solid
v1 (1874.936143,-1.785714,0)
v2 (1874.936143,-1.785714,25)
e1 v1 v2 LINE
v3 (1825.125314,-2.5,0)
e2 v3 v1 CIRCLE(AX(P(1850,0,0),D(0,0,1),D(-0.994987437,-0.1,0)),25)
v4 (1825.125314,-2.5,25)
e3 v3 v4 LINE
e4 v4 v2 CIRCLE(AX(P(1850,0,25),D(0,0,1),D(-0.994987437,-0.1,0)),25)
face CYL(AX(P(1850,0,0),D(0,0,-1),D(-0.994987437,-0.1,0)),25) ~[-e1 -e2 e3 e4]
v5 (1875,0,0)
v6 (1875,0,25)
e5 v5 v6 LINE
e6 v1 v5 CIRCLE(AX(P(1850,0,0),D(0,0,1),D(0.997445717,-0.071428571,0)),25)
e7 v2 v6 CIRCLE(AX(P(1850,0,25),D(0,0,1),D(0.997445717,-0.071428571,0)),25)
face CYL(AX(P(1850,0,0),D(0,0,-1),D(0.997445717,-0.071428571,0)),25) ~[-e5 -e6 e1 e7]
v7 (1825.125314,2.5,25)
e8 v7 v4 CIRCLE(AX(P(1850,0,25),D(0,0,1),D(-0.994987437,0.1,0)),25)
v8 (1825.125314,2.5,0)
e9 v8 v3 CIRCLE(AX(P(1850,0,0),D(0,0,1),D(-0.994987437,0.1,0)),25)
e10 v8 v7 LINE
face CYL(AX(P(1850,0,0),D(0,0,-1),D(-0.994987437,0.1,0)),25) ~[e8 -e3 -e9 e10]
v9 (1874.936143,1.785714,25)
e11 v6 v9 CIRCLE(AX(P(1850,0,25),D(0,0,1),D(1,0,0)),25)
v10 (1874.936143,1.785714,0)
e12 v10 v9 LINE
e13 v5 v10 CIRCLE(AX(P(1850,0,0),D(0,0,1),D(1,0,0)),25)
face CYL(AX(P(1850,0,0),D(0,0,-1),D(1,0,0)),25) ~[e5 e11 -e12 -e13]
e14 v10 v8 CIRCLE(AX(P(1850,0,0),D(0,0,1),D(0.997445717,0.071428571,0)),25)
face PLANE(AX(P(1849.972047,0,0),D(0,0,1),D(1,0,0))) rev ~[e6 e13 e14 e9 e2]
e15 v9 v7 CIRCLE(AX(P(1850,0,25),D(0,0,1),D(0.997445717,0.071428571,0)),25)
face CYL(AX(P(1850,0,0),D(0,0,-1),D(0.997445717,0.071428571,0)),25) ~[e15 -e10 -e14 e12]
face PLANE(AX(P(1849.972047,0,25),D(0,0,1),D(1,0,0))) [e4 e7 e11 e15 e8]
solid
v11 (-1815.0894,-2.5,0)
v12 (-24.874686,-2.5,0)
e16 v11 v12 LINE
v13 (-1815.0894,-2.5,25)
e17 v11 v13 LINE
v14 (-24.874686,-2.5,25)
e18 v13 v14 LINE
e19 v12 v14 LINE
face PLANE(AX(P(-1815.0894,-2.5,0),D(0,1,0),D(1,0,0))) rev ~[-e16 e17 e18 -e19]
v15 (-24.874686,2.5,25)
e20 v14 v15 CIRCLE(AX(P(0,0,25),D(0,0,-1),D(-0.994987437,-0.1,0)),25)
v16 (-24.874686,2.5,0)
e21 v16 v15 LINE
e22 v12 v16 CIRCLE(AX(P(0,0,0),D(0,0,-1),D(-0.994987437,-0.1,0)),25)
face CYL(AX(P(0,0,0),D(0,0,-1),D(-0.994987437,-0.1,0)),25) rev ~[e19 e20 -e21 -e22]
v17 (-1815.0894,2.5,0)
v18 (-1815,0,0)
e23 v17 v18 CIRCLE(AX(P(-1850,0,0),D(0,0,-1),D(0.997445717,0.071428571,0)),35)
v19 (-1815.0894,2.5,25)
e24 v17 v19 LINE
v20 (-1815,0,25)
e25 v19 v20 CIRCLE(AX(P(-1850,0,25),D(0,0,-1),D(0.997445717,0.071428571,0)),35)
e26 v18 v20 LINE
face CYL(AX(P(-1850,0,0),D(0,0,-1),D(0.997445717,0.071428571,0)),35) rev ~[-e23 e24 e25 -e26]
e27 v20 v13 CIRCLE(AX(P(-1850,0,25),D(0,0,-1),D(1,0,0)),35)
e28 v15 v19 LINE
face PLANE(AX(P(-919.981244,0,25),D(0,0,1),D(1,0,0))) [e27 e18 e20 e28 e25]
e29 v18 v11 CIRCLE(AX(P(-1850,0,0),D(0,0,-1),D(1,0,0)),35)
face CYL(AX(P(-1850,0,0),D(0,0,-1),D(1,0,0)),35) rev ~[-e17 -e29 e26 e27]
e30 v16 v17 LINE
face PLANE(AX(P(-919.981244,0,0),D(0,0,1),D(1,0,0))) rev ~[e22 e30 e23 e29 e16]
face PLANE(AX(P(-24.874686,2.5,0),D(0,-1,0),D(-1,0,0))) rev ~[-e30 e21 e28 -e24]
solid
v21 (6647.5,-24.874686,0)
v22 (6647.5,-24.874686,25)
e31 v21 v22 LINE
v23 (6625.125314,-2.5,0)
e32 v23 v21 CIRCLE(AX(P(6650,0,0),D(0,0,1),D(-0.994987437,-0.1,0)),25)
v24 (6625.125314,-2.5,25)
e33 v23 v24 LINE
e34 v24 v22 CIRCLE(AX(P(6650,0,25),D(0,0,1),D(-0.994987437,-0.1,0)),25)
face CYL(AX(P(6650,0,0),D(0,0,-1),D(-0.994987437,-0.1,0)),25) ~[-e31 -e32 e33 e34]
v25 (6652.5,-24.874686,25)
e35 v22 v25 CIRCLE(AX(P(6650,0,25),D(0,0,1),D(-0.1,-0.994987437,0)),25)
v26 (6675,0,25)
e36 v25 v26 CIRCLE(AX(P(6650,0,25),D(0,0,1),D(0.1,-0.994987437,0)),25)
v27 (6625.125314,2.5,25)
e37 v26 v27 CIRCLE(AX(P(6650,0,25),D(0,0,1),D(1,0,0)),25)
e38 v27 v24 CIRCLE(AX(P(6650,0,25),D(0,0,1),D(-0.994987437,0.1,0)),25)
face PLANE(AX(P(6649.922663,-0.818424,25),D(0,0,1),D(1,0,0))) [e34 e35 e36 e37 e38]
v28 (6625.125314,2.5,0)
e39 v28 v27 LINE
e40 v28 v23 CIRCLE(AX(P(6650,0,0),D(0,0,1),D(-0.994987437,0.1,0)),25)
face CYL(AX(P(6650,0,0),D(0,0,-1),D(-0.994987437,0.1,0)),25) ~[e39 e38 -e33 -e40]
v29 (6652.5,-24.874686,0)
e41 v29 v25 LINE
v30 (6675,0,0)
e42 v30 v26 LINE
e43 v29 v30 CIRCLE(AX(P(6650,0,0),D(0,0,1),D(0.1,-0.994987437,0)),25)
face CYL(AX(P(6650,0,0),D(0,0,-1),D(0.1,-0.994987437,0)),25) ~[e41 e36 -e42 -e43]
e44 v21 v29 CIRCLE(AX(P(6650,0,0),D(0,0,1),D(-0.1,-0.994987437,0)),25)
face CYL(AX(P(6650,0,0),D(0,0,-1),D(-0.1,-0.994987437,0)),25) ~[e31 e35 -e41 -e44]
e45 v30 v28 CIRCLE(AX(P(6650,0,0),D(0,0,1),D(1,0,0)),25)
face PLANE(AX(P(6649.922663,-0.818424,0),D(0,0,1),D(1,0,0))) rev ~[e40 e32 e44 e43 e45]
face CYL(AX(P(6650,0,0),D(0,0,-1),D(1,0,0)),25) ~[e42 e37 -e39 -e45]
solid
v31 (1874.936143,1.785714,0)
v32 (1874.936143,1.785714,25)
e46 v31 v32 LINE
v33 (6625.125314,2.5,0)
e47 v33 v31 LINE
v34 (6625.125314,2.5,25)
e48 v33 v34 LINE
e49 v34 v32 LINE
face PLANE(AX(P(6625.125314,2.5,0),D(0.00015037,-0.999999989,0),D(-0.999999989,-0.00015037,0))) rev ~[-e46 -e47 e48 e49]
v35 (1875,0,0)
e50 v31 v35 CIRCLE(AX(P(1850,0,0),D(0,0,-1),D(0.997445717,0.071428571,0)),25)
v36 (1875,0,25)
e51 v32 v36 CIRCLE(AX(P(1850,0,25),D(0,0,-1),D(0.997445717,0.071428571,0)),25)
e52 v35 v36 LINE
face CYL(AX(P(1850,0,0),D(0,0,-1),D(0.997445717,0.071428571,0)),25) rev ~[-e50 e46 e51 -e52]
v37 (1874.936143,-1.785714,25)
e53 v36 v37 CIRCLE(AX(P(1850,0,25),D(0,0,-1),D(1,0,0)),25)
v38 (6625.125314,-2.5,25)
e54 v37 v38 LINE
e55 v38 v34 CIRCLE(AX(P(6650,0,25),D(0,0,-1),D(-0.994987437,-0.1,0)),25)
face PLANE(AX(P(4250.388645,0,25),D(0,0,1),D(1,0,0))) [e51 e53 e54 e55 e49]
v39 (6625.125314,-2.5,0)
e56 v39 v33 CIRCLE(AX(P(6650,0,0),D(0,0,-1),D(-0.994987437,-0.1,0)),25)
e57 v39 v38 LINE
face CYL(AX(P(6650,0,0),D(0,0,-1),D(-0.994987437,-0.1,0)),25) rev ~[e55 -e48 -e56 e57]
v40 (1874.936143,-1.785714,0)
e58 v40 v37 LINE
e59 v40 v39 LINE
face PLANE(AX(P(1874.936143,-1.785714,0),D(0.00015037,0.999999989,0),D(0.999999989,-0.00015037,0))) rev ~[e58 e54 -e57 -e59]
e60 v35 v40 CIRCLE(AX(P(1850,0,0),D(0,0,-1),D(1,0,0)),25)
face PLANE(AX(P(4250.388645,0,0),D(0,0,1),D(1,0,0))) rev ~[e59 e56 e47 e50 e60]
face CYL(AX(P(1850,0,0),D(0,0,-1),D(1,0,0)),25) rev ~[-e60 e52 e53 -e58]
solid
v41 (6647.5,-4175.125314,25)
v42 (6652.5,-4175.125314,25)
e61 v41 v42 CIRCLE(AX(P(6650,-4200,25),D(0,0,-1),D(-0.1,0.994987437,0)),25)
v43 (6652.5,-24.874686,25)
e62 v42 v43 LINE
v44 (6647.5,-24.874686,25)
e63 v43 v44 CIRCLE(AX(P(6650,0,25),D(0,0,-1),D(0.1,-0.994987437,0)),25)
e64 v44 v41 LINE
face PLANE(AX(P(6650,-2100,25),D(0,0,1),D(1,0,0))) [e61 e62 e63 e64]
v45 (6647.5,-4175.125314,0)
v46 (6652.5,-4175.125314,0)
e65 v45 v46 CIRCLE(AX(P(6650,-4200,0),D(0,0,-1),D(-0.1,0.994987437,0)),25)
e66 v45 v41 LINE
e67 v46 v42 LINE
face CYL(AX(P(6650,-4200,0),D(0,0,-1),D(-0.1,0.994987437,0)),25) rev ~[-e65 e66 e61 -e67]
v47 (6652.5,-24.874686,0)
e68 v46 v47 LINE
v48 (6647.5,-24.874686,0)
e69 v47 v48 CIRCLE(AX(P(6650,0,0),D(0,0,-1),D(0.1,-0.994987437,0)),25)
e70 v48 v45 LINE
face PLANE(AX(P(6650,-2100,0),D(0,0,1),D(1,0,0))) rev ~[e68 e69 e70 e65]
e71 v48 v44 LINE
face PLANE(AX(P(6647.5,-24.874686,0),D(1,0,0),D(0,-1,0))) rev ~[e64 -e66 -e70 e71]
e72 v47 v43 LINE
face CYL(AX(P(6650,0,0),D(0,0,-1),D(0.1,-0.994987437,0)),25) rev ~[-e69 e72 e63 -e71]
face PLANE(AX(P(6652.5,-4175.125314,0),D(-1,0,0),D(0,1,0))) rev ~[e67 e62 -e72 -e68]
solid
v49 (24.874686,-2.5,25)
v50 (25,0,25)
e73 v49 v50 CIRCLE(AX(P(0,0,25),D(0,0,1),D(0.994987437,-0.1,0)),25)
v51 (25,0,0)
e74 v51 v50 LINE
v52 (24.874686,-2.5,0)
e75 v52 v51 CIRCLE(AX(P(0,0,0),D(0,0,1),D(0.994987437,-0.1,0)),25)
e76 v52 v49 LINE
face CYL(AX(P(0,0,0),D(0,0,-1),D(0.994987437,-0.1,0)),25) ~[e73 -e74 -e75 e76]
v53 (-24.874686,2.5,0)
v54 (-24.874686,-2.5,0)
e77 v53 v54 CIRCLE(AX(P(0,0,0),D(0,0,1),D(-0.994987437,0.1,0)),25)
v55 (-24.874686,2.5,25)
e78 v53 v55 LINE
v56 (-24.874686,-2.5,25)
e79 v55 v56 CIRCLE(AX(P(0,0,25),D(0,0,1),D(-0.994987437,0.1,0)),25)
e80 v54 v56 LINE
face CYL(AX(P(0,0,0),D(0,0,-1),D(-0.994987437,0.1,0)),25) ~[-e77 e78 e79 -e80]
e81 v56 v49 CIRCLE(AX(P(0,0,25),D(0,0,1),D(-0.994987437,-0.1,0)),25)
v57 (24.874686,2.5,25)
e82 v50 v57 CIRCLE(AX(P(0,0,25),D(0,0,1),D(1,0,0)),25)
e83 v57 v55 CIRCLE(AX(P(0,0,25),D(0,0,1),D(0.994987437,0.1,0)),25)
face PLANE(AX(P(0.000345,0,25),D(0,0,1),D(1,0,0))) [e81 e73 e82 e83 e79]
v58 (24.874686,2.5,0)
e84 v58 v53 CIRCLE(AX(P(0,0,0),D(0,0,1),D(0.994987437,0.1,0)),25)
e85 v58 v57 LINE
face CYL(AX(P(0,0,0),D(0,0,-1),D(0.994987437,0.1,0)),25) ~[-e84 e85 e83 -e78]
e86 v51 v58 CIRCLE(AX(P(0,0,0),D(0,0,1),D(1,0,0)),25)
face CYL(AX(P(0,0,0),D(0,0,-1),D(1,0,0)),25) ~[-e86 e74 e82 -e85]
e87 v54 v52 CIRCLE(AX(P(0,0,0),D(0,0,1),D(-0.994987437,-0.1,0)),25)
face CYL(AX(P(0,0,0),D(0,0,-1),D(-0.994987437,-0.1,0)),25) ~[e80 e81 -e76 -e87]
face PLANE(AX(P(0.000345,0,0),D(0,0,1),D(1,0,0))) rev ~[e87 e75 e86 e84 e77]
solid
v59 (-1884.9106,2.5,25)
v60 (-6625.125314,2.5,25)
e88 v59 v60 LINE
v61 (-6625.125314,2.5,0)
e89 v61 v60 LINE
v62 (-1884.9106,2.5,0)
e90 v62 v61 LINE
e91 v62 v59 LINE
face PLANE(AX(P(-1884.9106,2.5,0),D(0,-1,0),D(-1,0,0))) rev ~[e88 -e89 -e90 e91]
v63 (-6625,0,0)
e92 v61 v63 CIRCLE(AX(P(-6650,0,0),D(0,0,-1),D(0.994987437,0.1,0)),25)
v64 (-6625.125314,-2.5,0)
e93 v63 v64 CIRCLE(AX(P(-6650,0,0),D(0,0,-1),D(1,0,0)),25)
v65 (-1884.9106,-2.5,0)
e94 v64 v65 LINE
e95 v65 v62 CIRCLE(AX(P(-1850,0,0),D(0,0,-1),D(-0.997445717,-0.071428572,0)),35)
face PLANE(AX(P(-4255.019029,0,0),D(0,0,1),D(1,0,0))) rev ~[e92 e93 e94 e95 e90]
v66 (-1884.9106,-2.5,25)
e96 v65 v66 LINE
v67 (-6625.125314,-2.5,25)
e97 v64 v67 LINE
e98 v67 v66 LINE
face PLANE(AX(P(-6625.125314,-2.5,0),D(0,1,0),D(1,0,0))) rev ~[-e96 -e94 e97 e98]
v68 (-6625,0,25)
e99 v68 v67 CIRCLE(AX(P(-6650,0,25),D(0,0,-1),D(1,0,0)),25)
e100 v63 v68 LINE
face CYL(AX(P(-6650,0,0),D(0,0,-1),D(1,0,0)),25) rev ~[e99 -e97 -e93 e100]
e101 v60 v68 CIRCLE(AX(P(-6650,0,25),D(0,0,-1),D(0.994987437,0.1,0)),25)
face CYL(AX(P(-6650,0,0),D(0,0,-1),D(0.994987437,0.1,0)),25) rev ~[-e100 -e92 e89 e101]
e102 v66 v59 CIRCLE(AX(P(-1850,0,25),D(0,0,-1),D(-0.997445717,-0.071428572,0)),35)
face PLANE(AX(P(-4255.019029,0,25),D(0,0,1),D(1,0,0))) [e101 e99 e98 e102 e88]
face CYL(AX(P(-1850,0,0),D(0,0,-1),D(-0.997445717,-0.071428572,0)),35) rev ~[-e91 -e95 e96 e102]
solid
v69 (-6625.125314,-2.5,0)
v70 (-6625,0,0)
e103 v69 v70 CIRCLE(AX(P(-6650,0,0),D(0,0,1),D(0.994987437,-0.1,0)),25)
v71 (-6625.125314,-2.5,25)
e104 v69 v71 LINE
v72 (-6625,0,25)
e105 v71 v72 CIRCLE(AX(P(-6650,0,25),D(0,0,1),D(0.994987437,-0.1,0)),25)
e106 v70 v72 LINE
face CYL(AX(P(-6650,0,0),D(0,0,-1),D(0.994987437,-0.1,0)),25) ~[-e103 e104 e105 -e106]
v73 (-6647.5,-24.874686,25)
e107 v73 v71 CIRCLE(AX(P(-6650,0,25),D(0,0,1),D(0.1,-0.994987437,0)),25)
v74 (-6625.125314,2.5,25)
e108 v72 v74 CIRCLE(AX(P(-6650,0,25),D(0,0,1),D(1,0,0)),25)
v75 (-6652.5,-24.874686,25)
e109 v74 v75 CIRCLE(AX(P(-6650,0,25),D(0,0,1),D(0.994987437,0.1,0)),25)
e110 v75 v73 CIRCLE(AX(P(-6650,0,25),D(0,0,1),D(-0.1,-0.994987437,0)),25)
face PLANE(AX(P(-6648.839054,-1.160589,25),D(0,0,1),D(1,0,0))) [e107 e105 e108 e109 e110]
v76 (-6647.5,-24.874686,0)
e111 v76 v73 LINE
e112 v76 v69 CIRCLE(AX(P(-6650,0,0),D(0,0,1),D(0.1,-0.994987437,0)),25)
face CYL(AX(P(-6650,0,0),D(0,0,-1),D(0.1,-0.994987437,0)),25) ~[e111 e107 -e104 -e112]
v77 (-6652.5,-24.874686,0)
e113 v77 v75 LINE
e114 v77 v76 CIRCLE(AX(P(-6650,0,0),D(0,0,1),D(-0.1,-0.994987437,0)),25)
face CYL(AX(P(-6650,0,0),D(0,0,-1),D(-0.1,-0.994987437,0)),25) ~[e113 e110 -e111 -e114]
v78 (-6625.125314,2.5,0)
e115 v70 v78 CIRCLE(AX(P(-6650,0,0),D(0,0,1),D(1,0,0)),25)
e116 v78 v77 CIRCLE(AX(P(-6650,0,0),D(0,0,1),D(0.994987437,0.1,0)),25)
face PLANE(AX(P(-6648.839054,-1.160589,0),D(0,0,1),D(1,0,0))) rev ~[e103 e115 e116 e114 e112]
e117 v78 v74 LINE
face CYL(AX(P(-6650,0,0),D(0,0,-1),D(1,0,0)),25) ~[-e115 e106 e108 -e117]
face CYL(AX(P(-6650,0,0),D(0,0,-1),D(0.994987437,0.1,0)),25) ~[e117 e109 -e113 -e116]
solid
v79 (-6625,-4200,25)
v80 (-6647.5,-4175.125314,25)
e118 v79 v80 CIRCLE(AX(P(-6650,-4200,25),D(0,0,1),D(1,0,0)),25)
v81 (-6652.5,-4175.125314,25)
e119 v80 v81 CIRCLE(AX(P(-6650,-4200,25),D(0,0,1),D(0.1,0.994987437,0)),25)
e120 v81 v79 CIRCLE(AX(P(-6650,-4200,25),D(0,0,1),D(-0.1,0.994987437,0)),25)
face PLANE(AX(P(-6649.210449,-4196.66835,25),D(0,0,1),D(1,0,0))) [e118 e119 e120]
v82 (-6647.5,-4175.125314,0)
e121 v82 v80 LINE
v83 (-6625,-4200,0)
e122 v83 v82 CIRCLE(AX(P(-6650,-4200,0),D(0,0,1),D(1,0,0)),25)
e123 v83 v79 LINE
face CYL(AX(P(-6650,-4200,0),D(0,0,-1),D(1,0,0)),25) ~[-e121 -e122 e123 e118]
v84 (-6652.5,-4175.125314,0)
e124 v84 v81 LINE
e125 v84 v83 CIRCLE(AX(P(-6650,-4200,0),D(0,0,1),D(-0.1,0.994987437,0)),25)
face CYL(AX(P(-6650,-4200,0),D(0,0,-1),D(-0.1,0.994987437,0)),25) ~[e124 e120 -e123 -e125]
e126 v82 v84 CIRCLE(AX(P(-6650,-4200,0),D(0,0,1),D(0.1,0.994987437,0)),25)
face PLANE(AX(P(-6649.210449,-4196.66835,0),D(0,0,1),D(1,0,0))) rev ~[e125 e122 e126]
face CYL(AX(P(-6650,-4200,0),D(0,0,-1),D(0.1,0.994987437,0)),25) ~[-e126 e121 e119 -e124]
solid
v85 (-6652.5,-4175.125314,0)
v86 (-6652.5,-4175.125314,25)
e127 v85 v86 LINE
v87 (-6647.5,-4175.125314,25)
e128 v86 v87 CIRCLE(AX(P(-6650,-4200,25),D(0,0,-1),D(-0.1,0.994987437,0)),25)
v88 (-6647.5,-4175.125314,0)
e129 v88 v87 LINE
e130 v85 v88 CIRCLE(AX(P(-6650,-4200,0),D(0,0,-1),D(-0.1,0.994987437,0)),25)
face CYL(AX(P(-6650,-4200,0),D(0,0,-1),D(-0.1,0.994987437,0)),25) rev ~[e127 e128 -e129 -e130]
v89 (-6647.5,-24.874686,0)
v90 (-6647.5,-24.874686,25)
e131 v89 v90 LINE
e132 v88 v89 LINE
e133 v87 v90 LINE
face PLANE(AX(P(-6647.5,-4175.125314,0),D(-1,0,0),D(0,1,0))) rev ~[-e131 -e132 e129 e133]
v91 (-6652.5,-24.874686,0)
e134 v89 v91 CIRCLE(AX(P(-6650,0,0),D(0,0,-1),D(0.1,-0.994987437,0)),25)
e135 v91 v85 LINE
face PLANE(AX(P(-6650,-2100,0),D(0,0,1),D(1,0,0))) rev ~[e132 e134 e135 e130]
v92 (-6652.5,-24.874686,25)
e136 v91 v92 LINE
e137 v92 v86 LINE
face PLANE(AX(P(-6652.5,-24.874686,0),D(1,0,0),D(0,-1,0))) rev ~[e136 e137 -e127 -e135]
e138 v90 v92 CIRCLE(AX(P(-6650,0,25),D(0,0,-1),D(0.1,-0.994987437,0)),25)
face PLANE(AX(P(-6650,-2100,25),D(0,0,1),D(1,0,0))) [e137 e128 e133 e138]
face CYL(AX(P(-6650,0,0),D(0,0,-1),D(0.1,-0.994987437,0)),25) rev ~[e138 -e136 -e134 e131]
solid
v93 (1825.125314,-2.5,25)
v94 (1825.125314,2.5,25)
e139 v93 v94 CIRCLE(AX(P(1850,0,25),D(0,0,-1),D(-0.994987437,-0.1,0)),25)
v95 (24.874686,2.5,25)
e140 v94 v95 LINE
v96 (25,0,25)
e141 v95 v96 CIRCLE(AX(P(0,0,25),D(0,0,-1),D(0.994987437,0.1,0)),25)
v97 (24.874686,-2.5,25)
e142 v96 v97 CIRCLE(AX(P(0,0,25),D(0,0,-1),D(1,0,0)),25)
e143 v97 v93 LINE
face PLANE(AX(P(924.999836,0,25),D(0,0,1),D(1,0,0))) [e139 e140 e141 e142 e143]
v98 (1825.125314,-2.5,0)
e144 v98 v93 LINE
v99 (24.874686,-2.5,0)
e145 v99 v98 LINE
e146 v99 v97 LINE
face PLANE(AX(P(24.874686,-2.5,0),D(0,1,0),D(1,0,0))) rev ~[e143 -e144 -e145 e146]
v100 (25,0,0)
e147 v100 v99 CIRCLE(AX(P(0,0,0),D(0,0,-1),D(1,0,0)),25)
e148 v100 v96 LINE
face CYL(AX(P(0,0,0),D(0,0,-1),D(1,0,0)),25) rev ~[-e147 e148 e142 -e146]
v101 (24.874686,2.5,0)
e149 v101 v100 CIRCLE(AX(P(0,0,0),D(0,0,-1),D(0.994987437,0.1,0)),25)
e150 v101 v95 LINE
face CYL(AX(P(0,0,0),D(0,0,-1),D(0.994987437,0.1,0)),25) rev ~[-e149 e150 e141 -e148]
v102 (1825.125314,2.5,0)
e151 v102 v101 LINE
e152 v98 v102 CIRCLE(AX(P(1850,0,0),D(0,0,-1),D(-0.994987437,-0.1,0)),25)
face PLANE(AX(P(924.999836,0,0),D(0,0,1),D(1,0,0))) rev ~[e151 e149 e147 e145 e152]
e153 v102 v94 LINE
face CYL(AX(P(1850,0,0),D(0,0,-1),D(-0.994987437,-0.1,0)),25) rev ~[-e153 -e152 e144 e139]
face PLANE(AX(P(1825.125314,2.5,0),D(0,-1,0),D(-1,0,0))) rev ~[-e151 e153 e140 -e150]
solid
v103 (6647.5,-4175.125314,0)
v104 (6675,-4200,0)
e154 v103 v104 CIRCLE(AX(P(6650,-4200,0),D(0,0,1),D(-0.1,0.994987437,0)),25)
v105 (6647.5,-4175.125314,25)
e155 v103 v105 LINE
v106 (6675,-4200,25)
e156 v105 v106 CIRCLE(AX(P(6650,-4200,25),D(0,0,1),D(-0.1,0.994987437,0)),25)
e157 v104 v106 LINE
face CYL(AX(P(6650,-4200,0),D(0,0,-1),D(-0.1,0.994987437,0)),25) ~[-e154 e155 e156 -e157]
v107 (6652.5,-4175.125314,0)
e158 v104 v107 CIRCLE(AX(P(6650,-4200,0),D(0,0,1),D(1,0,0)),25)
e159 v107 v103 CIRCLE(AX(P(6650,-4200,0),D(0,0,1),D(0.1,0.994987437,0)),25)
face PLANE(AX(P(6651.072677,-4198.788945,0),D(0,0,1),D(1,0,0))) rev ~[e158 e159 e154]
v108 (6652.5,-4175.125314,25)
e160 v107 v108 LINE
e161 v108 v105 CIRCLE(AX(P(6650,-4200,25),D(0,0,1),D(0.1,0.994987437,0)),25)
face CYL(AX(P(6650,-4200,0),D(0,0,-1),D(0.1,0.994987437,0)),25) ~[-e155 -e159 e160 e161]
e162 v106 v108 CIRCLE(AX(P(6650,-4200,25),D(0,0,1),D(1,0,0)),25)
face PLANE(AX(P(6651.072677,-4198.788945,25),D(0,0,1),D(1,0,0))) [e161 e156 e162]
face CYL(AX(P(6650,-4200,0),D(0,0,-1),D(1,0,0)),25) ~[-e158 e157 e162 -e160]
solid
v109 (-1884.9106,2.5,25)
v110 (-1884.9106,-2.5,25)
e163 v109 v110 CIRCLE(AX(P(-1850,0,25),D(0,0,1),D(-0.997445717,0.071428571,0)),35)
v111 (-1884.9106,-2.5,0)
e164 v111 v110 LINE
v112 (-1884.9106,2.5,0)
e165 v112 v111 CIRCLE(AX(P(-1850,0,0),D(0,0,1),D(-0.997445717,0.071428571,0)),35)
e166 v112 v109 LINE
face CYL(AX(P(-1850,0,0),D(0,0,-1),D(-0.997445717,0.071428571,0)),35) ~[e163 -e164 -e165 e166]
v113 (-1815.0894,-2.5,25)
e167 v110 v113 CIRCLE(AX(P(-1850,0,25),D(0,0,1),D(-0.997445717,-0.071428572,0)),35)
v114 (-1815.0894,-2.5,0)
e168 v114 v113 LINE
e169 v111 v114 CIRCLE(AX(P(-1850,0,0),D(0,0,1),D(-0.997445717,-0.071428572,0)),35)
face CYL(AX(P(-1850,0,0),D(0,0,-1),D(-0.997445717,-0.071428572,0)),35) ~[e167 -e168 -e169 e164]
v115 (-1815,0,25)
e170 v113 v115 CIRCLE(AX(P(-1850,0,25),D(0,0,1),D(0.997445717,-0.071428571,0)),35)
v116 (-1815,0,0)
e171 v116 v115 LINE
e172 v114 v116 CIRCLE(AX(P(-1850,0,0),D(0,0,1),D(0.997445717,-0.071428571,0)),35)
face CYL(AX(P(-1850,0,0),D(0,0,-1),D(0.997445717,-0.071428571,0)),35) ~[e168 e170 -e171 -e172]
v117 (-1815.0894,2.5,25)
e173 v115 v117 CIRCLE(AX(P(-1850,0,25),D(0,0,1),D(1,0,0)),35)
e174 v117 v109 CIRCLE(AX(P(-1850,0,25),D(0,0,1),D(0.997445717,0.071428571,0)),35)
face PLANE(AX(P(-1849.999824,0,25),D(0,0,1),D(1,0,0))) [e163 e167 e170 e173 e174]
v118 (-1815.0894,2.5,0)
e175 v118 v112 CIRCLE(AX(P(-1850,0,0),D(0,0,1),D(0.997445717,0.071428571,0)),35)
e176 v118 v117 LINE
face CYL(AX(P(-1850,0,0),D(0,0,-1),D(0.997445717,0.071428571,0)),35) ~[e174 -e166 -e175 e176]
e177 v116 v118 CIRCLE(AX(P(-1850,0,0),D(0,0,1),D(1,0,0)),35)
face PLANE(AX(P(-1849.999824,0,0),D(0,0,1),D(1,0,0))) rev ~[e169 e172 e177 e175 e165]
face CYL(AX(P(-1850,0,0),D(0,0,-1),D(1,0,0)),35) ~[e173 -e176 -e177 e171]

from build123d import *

# Parameters (mm, degrees)
F1_DEPTH = 25
F2_DEPTH = 25


with BuildPart() as f1:
    # F0 (on Top) → F1 (new body)
    with BuildSketch(Plane.XY):
        with BuildLine():
            ThreePointArc((-1815.0893998906, 2.5), (-1815.0223571132, 1.2507989787), (-1815, 0))
            ThreePointArc((-1815, 0), (-1815.0223571132, -1.2507989787), (-1815.0893998906, -2.5))
            Line((-1815.0893998906, -2.5), (-24.8746859277, -2.5))
            ThreePointArc((-24.8746859277, -2.5), (-25, 0), (-24.8746859277, 2.5))
            Line((-24.8746859277, 2.5), (-1815.0893998906, 2.5))
        make_face()
    extrude(amount=F1_DEPTH)


with BuildPart() as f1b:
    # F0 (on Top) → F1, piece 2 (new body)
    with BuildSketch(Plane.XY):
        with BuildLine():
            ThreePointArc((-1884.9106001091, -2.5000000044), (-1885, -3e-09), (-1884.9106001095, 2.4999999984))
            Line((-1884.9106001095, 2.4999999984), (-6625.1253140726, 2.5000000028))
            ThreePointArc((-6625.1253140726, 2.5000000028), (-6625.0313481723, 1.2515693779), (-6625, 0))
            ThreePointArc((-6625, 0), (-6625.0313481722, -1.2515693765), (-6625.1253140723, -2.5))
            Line((-6625.1253140723, -2.5), (-1884.9106001091, -2.5000000044))
        make_face()
    extrude(amount=F1_DEPTH)


with BuildPart() as f1c:
    # F0 (on Top) → F1, piece 3 (new body)
    with BuildSketch(Plane.XY):
        with BuildLine():
            ThreePointArc((-6647.5, -24.8746859277), (-6650, -25), (-6652.5, -24.8746859277))
            Line((-6652.5, -24.8746859277), (-6652.5, -4175.1253140723))
            ThreePointArc((-6652.5, -4175.1253140723), (-6650, -4175), (-6647.5, -4175.1253140723))
            Line((-6647.5, -4175.1253140723), (-6647.5, -24.8746859277))
        make_face()
    extrude(amount=F1_DEPTH)


with BuildPart() as f1d:
    # F0 (on Top) → F1, piece 4 (new body)
    with BuildSketch(Plane.XY):
        with BuildLine():
            Line((1825.1253140723, 2.5), (24.8746859277, 2.5))
            ThreePointArc((24.8746859277, 2.5), (24.9686518278, 1.2515693765), (25, 0))
            ThreePointArc((25, 0), (24.9686518278, -1.2515693765), (24.8746859277, -2.5))
            Line((24.8746859277, -2.5), (1825.1253140723, -2.5))
            ThreePointArc((1825.1253140723, -2.5), (1825, 0), (1825.1253140723, 2.5))
        make_face()
    extrude(amount=F1_DEPTH)


with BuildPart() as f1e:
    # F0 (on Top) → F1, piece 5 (new body)
    with BuildSketch(Plane.XY):
        with BuildLine():
            Line((6625.1253140723, 2.5), (1874.9361429353, 1.7857142857))
            ThreePointArc((1874.9361429353, 1.7857142857), (1874.9840306334, 0.8934278419), (1875, 0))
            ThreePointArc((1875, 0), (1874.9840306334, -0.8934278419), (1874.9361429353, -1.7857142857))
            Line((1874.9361429353, -1.7857142857), (6625.1253140723, -2.5))
            ThreePointArc((6625.1253140723, -2.5), (6625, 0), (6625.1253140723, 2.5))
        make_face()
    extrude(amount=F1_DEPTH)


with BuildPart() as f1f:
    # F0 (on Top) → F1, piece 6 (new body)
    with BuildSketch(Plane.XY):
        with BuildLine():
            ThreePointArc((6652.5, -24.8746859277), (6650, -25), (6647.5, -24.8746859277))
            Line((6647.5, -24.8746859277), (6647.5, -4175.1253140723))
            ThreePointArc((6647.5, -4175.1253140723), (6650, -4175), (6652.5, -4175.1253140723))
            Line((6652.5, -4175.1253140723), (6652.5, -24.8746859277))
        make_face()
    extrude(amount=F1_DEPTH)


with BuildPart() as f2:
    # F0 (on Top) → F2 (new body)
    with BuildSketch(Plane.XY):
        with BuildLine():
            Line((-6652.5, -4200), (-6652.5, -4175.1253140723))
            ThreePointArc((-6652.5, -4175.1253140723), (-6666.7705098312, -4218.5404962177), (-6625, -4200))
            ThreePointArc((-6625, -4200), (-6631.4595037823, -4183.2294901688), (-6647.5, -4175.1253140723))
            Line((-6647.5, -4175.1253140723), (-6647.5, -4200))
            ThreePointArc((-6647.5, -4200), (-6650, -4202.5), (-6652.5, -4200))
        make_face()
        with BuildLine():
            ThreePointArc((-6647.5, -4175.1253140723), (-6650, -4175), (-6652.5, -4175.1253140723))
            Line((-6652.5, -4175.1253140723), (-6652.5, -4200))
            ThreePointArc((-6652.5, -4200), (-6650, -4202.5), (-6647.5, -4200))
            Line((-6647.5, -4200), (-6647.5, -4175.1253140723))
        make_face()
    extrude(amount=F2_DEPTH)


with BuildPart() as f2b:
    # F0 (on Top) → F2, piece 2 (new body)
    with BuildSketch(Plane.XY):
        with BuildLine():
            ThreePointArc((-6625, 0), (-6625.0313481723, 1.2515693779), (-6625.1253140726, 2.5000000028))
            ThreePointArc((-6625.1253140726, 2.5000000028), (-6667.6776695307, 17.6776695287), (-6652.5, -24.8746859277))
            ThreePointArc((-6652.5, -24.8746859277), (-6650, -25), (-6647.5, -24.8746859277))
            ThreePointArc((-6647.5, -24.8746859277), (-6632.3223304703, -17.6776695297), (-6625.1253140723, -2.5))
            ThreePointArc((-6625.1253140723, -2.5), (-6625.0313481722, -1.2515693765), (-6625, 0))
        make_face()
    extrude(amount=F2_DEPTH)


with BuildPart() as f2c:
    # F0 (on Top) → F2, piece 3 (new body)
    with BuildSketch(Plane.XY):
        with BuildLine():
            ThreePointArc((-1815.0893998906, -2.5), (-1815.0223571132, -1.2507989787), (-1815, 0))
            ThreePointArc((-1815, 0), (-1815.0223571132, 1.2507989787), (-1815.0893998906, 2.5))
            ThreePointArc((-1815.0893998906, 2.5), (-1850.0000000008, 35), (-1884.9106001095, 2.4999999984))
            ThreePointArc((-1884.9106001095, 2.4999999984), (-1885, -3e-09), (-1884.9106001091, -2.5000000044))
            ThreePointArc((-1884.9106001091, -2.5000000044), (-1849.9999999978, -35), (-1815.0893998906, -2.5))
        make_face()
    extrude(amount=F2_DEPTH)


with BuildPart() as f2d:
    # F0 (on Top) → F2, piece 4 (new body)
    with BuildSketch(Plane.XY):
        with BuildLine():
            ThreePointArc((24.8746859277, 2.5), (0, 25), (-24.8746859277, 2.5))
            ThreePointArc((-24.8746859277, 2.5), (-25, 0), (-24.8746859277, -2.5))
            ThreePointArc((-24.8746859277, -2.5), (0, -25), (24.8746859277, -2.5))
            ThreePointArc((24.8746859277, -2.5), (24.9686518278, -1.2515693765), (25, 0))
            ThreePointArc((25, 0), (24.9686518278, 1.2515693765), (24.8746859277, 2.5))
        make_face()
    extrude(amount=F2_DEPTH)


with BuildPart() as f2e:
    # F0 (on Top) → F2, piece 5 (new body)
    with BuildSketch(Plane.XY):
        with BuildLine():
            ThreePointArc((1874.9361429353, 1.7857142857), (1850.358462357, 24.9974299627), (1825.1253140723, 2.5))
            ThreePointArc((1825.1253140723, 2.5), (1825, 0), (1825.1253140723, -2.5))
            ThreePointArc((1825.1253140723, -2.5), (1850.358462357, -24.9974299627), (1874.9361429353, -1.7857142857))
            ThreePointArc((1874.9361429353, -1.7857142857), (1874.9840306334, -0.8934278419), (1875, 0))
            ThreePointArc((1875, 0), (1874.9840306334, 0.8934278419), (1874.9361429353, 1.7857142857))
        make_face()
    extrude(amount=F2_DEPTH)


with BuildPart() as f2f:
    # F0 (on Top) → F2, piece 6 (new body)
    with BuildSketch(Plane.XY):
        with BuildLine():
            ThreePointArc((6675, 0), (6651.2515693765, 24.9686518278), (6625.1253140723, 2.5))
            ThreePointArc((6625.1253140723, 2.5), (6625, 0), (6625.1253140723, -2.5))
            ThreePointArc((6625.1253140723, -2.5), (6632.3223304703, -17.6776695297), (6647.5, -24.8746859277))
            ThreePointArc((6647.5, -24.8746859277), (6650, -25), (6652.5, -24.8746859277))
            ThreePointArc((6652.5, -24.8746859277), (6668.5404962177, -16.7705098312), (6675, 0))
        make_face()
    extrude(amount=F2_DEPTH)


with BuildPart() as f2g:
    # F0 (on Top) → F2, piece 7 (new body)
    with BuildSketch(Plane.XY):
        with BuildLine():
            ThreePointArc((6652.5, -4175.1253140723), (6650, -4175), (6647.5, -4175.1253140723))
            ThreePointArc((6647.5, -4175.1253140723), (6633.2294901688, -4218.5404962177), (6675, -4200))
            ThreePointArc((6675, -4200), (6668.5404962177, -4183.2294901688), (6652.5, -4175.1253140723))
        make_face()
    extrude(amount=F2_DEPTH)


solid = Compound([f1.part, f1b.part, f1c.part, f1d.part, f1e.part, f1f.part, f2.part, f2b.part, f2c.part, f2d.part, f2e.part, f2f.part, f2g.part])
